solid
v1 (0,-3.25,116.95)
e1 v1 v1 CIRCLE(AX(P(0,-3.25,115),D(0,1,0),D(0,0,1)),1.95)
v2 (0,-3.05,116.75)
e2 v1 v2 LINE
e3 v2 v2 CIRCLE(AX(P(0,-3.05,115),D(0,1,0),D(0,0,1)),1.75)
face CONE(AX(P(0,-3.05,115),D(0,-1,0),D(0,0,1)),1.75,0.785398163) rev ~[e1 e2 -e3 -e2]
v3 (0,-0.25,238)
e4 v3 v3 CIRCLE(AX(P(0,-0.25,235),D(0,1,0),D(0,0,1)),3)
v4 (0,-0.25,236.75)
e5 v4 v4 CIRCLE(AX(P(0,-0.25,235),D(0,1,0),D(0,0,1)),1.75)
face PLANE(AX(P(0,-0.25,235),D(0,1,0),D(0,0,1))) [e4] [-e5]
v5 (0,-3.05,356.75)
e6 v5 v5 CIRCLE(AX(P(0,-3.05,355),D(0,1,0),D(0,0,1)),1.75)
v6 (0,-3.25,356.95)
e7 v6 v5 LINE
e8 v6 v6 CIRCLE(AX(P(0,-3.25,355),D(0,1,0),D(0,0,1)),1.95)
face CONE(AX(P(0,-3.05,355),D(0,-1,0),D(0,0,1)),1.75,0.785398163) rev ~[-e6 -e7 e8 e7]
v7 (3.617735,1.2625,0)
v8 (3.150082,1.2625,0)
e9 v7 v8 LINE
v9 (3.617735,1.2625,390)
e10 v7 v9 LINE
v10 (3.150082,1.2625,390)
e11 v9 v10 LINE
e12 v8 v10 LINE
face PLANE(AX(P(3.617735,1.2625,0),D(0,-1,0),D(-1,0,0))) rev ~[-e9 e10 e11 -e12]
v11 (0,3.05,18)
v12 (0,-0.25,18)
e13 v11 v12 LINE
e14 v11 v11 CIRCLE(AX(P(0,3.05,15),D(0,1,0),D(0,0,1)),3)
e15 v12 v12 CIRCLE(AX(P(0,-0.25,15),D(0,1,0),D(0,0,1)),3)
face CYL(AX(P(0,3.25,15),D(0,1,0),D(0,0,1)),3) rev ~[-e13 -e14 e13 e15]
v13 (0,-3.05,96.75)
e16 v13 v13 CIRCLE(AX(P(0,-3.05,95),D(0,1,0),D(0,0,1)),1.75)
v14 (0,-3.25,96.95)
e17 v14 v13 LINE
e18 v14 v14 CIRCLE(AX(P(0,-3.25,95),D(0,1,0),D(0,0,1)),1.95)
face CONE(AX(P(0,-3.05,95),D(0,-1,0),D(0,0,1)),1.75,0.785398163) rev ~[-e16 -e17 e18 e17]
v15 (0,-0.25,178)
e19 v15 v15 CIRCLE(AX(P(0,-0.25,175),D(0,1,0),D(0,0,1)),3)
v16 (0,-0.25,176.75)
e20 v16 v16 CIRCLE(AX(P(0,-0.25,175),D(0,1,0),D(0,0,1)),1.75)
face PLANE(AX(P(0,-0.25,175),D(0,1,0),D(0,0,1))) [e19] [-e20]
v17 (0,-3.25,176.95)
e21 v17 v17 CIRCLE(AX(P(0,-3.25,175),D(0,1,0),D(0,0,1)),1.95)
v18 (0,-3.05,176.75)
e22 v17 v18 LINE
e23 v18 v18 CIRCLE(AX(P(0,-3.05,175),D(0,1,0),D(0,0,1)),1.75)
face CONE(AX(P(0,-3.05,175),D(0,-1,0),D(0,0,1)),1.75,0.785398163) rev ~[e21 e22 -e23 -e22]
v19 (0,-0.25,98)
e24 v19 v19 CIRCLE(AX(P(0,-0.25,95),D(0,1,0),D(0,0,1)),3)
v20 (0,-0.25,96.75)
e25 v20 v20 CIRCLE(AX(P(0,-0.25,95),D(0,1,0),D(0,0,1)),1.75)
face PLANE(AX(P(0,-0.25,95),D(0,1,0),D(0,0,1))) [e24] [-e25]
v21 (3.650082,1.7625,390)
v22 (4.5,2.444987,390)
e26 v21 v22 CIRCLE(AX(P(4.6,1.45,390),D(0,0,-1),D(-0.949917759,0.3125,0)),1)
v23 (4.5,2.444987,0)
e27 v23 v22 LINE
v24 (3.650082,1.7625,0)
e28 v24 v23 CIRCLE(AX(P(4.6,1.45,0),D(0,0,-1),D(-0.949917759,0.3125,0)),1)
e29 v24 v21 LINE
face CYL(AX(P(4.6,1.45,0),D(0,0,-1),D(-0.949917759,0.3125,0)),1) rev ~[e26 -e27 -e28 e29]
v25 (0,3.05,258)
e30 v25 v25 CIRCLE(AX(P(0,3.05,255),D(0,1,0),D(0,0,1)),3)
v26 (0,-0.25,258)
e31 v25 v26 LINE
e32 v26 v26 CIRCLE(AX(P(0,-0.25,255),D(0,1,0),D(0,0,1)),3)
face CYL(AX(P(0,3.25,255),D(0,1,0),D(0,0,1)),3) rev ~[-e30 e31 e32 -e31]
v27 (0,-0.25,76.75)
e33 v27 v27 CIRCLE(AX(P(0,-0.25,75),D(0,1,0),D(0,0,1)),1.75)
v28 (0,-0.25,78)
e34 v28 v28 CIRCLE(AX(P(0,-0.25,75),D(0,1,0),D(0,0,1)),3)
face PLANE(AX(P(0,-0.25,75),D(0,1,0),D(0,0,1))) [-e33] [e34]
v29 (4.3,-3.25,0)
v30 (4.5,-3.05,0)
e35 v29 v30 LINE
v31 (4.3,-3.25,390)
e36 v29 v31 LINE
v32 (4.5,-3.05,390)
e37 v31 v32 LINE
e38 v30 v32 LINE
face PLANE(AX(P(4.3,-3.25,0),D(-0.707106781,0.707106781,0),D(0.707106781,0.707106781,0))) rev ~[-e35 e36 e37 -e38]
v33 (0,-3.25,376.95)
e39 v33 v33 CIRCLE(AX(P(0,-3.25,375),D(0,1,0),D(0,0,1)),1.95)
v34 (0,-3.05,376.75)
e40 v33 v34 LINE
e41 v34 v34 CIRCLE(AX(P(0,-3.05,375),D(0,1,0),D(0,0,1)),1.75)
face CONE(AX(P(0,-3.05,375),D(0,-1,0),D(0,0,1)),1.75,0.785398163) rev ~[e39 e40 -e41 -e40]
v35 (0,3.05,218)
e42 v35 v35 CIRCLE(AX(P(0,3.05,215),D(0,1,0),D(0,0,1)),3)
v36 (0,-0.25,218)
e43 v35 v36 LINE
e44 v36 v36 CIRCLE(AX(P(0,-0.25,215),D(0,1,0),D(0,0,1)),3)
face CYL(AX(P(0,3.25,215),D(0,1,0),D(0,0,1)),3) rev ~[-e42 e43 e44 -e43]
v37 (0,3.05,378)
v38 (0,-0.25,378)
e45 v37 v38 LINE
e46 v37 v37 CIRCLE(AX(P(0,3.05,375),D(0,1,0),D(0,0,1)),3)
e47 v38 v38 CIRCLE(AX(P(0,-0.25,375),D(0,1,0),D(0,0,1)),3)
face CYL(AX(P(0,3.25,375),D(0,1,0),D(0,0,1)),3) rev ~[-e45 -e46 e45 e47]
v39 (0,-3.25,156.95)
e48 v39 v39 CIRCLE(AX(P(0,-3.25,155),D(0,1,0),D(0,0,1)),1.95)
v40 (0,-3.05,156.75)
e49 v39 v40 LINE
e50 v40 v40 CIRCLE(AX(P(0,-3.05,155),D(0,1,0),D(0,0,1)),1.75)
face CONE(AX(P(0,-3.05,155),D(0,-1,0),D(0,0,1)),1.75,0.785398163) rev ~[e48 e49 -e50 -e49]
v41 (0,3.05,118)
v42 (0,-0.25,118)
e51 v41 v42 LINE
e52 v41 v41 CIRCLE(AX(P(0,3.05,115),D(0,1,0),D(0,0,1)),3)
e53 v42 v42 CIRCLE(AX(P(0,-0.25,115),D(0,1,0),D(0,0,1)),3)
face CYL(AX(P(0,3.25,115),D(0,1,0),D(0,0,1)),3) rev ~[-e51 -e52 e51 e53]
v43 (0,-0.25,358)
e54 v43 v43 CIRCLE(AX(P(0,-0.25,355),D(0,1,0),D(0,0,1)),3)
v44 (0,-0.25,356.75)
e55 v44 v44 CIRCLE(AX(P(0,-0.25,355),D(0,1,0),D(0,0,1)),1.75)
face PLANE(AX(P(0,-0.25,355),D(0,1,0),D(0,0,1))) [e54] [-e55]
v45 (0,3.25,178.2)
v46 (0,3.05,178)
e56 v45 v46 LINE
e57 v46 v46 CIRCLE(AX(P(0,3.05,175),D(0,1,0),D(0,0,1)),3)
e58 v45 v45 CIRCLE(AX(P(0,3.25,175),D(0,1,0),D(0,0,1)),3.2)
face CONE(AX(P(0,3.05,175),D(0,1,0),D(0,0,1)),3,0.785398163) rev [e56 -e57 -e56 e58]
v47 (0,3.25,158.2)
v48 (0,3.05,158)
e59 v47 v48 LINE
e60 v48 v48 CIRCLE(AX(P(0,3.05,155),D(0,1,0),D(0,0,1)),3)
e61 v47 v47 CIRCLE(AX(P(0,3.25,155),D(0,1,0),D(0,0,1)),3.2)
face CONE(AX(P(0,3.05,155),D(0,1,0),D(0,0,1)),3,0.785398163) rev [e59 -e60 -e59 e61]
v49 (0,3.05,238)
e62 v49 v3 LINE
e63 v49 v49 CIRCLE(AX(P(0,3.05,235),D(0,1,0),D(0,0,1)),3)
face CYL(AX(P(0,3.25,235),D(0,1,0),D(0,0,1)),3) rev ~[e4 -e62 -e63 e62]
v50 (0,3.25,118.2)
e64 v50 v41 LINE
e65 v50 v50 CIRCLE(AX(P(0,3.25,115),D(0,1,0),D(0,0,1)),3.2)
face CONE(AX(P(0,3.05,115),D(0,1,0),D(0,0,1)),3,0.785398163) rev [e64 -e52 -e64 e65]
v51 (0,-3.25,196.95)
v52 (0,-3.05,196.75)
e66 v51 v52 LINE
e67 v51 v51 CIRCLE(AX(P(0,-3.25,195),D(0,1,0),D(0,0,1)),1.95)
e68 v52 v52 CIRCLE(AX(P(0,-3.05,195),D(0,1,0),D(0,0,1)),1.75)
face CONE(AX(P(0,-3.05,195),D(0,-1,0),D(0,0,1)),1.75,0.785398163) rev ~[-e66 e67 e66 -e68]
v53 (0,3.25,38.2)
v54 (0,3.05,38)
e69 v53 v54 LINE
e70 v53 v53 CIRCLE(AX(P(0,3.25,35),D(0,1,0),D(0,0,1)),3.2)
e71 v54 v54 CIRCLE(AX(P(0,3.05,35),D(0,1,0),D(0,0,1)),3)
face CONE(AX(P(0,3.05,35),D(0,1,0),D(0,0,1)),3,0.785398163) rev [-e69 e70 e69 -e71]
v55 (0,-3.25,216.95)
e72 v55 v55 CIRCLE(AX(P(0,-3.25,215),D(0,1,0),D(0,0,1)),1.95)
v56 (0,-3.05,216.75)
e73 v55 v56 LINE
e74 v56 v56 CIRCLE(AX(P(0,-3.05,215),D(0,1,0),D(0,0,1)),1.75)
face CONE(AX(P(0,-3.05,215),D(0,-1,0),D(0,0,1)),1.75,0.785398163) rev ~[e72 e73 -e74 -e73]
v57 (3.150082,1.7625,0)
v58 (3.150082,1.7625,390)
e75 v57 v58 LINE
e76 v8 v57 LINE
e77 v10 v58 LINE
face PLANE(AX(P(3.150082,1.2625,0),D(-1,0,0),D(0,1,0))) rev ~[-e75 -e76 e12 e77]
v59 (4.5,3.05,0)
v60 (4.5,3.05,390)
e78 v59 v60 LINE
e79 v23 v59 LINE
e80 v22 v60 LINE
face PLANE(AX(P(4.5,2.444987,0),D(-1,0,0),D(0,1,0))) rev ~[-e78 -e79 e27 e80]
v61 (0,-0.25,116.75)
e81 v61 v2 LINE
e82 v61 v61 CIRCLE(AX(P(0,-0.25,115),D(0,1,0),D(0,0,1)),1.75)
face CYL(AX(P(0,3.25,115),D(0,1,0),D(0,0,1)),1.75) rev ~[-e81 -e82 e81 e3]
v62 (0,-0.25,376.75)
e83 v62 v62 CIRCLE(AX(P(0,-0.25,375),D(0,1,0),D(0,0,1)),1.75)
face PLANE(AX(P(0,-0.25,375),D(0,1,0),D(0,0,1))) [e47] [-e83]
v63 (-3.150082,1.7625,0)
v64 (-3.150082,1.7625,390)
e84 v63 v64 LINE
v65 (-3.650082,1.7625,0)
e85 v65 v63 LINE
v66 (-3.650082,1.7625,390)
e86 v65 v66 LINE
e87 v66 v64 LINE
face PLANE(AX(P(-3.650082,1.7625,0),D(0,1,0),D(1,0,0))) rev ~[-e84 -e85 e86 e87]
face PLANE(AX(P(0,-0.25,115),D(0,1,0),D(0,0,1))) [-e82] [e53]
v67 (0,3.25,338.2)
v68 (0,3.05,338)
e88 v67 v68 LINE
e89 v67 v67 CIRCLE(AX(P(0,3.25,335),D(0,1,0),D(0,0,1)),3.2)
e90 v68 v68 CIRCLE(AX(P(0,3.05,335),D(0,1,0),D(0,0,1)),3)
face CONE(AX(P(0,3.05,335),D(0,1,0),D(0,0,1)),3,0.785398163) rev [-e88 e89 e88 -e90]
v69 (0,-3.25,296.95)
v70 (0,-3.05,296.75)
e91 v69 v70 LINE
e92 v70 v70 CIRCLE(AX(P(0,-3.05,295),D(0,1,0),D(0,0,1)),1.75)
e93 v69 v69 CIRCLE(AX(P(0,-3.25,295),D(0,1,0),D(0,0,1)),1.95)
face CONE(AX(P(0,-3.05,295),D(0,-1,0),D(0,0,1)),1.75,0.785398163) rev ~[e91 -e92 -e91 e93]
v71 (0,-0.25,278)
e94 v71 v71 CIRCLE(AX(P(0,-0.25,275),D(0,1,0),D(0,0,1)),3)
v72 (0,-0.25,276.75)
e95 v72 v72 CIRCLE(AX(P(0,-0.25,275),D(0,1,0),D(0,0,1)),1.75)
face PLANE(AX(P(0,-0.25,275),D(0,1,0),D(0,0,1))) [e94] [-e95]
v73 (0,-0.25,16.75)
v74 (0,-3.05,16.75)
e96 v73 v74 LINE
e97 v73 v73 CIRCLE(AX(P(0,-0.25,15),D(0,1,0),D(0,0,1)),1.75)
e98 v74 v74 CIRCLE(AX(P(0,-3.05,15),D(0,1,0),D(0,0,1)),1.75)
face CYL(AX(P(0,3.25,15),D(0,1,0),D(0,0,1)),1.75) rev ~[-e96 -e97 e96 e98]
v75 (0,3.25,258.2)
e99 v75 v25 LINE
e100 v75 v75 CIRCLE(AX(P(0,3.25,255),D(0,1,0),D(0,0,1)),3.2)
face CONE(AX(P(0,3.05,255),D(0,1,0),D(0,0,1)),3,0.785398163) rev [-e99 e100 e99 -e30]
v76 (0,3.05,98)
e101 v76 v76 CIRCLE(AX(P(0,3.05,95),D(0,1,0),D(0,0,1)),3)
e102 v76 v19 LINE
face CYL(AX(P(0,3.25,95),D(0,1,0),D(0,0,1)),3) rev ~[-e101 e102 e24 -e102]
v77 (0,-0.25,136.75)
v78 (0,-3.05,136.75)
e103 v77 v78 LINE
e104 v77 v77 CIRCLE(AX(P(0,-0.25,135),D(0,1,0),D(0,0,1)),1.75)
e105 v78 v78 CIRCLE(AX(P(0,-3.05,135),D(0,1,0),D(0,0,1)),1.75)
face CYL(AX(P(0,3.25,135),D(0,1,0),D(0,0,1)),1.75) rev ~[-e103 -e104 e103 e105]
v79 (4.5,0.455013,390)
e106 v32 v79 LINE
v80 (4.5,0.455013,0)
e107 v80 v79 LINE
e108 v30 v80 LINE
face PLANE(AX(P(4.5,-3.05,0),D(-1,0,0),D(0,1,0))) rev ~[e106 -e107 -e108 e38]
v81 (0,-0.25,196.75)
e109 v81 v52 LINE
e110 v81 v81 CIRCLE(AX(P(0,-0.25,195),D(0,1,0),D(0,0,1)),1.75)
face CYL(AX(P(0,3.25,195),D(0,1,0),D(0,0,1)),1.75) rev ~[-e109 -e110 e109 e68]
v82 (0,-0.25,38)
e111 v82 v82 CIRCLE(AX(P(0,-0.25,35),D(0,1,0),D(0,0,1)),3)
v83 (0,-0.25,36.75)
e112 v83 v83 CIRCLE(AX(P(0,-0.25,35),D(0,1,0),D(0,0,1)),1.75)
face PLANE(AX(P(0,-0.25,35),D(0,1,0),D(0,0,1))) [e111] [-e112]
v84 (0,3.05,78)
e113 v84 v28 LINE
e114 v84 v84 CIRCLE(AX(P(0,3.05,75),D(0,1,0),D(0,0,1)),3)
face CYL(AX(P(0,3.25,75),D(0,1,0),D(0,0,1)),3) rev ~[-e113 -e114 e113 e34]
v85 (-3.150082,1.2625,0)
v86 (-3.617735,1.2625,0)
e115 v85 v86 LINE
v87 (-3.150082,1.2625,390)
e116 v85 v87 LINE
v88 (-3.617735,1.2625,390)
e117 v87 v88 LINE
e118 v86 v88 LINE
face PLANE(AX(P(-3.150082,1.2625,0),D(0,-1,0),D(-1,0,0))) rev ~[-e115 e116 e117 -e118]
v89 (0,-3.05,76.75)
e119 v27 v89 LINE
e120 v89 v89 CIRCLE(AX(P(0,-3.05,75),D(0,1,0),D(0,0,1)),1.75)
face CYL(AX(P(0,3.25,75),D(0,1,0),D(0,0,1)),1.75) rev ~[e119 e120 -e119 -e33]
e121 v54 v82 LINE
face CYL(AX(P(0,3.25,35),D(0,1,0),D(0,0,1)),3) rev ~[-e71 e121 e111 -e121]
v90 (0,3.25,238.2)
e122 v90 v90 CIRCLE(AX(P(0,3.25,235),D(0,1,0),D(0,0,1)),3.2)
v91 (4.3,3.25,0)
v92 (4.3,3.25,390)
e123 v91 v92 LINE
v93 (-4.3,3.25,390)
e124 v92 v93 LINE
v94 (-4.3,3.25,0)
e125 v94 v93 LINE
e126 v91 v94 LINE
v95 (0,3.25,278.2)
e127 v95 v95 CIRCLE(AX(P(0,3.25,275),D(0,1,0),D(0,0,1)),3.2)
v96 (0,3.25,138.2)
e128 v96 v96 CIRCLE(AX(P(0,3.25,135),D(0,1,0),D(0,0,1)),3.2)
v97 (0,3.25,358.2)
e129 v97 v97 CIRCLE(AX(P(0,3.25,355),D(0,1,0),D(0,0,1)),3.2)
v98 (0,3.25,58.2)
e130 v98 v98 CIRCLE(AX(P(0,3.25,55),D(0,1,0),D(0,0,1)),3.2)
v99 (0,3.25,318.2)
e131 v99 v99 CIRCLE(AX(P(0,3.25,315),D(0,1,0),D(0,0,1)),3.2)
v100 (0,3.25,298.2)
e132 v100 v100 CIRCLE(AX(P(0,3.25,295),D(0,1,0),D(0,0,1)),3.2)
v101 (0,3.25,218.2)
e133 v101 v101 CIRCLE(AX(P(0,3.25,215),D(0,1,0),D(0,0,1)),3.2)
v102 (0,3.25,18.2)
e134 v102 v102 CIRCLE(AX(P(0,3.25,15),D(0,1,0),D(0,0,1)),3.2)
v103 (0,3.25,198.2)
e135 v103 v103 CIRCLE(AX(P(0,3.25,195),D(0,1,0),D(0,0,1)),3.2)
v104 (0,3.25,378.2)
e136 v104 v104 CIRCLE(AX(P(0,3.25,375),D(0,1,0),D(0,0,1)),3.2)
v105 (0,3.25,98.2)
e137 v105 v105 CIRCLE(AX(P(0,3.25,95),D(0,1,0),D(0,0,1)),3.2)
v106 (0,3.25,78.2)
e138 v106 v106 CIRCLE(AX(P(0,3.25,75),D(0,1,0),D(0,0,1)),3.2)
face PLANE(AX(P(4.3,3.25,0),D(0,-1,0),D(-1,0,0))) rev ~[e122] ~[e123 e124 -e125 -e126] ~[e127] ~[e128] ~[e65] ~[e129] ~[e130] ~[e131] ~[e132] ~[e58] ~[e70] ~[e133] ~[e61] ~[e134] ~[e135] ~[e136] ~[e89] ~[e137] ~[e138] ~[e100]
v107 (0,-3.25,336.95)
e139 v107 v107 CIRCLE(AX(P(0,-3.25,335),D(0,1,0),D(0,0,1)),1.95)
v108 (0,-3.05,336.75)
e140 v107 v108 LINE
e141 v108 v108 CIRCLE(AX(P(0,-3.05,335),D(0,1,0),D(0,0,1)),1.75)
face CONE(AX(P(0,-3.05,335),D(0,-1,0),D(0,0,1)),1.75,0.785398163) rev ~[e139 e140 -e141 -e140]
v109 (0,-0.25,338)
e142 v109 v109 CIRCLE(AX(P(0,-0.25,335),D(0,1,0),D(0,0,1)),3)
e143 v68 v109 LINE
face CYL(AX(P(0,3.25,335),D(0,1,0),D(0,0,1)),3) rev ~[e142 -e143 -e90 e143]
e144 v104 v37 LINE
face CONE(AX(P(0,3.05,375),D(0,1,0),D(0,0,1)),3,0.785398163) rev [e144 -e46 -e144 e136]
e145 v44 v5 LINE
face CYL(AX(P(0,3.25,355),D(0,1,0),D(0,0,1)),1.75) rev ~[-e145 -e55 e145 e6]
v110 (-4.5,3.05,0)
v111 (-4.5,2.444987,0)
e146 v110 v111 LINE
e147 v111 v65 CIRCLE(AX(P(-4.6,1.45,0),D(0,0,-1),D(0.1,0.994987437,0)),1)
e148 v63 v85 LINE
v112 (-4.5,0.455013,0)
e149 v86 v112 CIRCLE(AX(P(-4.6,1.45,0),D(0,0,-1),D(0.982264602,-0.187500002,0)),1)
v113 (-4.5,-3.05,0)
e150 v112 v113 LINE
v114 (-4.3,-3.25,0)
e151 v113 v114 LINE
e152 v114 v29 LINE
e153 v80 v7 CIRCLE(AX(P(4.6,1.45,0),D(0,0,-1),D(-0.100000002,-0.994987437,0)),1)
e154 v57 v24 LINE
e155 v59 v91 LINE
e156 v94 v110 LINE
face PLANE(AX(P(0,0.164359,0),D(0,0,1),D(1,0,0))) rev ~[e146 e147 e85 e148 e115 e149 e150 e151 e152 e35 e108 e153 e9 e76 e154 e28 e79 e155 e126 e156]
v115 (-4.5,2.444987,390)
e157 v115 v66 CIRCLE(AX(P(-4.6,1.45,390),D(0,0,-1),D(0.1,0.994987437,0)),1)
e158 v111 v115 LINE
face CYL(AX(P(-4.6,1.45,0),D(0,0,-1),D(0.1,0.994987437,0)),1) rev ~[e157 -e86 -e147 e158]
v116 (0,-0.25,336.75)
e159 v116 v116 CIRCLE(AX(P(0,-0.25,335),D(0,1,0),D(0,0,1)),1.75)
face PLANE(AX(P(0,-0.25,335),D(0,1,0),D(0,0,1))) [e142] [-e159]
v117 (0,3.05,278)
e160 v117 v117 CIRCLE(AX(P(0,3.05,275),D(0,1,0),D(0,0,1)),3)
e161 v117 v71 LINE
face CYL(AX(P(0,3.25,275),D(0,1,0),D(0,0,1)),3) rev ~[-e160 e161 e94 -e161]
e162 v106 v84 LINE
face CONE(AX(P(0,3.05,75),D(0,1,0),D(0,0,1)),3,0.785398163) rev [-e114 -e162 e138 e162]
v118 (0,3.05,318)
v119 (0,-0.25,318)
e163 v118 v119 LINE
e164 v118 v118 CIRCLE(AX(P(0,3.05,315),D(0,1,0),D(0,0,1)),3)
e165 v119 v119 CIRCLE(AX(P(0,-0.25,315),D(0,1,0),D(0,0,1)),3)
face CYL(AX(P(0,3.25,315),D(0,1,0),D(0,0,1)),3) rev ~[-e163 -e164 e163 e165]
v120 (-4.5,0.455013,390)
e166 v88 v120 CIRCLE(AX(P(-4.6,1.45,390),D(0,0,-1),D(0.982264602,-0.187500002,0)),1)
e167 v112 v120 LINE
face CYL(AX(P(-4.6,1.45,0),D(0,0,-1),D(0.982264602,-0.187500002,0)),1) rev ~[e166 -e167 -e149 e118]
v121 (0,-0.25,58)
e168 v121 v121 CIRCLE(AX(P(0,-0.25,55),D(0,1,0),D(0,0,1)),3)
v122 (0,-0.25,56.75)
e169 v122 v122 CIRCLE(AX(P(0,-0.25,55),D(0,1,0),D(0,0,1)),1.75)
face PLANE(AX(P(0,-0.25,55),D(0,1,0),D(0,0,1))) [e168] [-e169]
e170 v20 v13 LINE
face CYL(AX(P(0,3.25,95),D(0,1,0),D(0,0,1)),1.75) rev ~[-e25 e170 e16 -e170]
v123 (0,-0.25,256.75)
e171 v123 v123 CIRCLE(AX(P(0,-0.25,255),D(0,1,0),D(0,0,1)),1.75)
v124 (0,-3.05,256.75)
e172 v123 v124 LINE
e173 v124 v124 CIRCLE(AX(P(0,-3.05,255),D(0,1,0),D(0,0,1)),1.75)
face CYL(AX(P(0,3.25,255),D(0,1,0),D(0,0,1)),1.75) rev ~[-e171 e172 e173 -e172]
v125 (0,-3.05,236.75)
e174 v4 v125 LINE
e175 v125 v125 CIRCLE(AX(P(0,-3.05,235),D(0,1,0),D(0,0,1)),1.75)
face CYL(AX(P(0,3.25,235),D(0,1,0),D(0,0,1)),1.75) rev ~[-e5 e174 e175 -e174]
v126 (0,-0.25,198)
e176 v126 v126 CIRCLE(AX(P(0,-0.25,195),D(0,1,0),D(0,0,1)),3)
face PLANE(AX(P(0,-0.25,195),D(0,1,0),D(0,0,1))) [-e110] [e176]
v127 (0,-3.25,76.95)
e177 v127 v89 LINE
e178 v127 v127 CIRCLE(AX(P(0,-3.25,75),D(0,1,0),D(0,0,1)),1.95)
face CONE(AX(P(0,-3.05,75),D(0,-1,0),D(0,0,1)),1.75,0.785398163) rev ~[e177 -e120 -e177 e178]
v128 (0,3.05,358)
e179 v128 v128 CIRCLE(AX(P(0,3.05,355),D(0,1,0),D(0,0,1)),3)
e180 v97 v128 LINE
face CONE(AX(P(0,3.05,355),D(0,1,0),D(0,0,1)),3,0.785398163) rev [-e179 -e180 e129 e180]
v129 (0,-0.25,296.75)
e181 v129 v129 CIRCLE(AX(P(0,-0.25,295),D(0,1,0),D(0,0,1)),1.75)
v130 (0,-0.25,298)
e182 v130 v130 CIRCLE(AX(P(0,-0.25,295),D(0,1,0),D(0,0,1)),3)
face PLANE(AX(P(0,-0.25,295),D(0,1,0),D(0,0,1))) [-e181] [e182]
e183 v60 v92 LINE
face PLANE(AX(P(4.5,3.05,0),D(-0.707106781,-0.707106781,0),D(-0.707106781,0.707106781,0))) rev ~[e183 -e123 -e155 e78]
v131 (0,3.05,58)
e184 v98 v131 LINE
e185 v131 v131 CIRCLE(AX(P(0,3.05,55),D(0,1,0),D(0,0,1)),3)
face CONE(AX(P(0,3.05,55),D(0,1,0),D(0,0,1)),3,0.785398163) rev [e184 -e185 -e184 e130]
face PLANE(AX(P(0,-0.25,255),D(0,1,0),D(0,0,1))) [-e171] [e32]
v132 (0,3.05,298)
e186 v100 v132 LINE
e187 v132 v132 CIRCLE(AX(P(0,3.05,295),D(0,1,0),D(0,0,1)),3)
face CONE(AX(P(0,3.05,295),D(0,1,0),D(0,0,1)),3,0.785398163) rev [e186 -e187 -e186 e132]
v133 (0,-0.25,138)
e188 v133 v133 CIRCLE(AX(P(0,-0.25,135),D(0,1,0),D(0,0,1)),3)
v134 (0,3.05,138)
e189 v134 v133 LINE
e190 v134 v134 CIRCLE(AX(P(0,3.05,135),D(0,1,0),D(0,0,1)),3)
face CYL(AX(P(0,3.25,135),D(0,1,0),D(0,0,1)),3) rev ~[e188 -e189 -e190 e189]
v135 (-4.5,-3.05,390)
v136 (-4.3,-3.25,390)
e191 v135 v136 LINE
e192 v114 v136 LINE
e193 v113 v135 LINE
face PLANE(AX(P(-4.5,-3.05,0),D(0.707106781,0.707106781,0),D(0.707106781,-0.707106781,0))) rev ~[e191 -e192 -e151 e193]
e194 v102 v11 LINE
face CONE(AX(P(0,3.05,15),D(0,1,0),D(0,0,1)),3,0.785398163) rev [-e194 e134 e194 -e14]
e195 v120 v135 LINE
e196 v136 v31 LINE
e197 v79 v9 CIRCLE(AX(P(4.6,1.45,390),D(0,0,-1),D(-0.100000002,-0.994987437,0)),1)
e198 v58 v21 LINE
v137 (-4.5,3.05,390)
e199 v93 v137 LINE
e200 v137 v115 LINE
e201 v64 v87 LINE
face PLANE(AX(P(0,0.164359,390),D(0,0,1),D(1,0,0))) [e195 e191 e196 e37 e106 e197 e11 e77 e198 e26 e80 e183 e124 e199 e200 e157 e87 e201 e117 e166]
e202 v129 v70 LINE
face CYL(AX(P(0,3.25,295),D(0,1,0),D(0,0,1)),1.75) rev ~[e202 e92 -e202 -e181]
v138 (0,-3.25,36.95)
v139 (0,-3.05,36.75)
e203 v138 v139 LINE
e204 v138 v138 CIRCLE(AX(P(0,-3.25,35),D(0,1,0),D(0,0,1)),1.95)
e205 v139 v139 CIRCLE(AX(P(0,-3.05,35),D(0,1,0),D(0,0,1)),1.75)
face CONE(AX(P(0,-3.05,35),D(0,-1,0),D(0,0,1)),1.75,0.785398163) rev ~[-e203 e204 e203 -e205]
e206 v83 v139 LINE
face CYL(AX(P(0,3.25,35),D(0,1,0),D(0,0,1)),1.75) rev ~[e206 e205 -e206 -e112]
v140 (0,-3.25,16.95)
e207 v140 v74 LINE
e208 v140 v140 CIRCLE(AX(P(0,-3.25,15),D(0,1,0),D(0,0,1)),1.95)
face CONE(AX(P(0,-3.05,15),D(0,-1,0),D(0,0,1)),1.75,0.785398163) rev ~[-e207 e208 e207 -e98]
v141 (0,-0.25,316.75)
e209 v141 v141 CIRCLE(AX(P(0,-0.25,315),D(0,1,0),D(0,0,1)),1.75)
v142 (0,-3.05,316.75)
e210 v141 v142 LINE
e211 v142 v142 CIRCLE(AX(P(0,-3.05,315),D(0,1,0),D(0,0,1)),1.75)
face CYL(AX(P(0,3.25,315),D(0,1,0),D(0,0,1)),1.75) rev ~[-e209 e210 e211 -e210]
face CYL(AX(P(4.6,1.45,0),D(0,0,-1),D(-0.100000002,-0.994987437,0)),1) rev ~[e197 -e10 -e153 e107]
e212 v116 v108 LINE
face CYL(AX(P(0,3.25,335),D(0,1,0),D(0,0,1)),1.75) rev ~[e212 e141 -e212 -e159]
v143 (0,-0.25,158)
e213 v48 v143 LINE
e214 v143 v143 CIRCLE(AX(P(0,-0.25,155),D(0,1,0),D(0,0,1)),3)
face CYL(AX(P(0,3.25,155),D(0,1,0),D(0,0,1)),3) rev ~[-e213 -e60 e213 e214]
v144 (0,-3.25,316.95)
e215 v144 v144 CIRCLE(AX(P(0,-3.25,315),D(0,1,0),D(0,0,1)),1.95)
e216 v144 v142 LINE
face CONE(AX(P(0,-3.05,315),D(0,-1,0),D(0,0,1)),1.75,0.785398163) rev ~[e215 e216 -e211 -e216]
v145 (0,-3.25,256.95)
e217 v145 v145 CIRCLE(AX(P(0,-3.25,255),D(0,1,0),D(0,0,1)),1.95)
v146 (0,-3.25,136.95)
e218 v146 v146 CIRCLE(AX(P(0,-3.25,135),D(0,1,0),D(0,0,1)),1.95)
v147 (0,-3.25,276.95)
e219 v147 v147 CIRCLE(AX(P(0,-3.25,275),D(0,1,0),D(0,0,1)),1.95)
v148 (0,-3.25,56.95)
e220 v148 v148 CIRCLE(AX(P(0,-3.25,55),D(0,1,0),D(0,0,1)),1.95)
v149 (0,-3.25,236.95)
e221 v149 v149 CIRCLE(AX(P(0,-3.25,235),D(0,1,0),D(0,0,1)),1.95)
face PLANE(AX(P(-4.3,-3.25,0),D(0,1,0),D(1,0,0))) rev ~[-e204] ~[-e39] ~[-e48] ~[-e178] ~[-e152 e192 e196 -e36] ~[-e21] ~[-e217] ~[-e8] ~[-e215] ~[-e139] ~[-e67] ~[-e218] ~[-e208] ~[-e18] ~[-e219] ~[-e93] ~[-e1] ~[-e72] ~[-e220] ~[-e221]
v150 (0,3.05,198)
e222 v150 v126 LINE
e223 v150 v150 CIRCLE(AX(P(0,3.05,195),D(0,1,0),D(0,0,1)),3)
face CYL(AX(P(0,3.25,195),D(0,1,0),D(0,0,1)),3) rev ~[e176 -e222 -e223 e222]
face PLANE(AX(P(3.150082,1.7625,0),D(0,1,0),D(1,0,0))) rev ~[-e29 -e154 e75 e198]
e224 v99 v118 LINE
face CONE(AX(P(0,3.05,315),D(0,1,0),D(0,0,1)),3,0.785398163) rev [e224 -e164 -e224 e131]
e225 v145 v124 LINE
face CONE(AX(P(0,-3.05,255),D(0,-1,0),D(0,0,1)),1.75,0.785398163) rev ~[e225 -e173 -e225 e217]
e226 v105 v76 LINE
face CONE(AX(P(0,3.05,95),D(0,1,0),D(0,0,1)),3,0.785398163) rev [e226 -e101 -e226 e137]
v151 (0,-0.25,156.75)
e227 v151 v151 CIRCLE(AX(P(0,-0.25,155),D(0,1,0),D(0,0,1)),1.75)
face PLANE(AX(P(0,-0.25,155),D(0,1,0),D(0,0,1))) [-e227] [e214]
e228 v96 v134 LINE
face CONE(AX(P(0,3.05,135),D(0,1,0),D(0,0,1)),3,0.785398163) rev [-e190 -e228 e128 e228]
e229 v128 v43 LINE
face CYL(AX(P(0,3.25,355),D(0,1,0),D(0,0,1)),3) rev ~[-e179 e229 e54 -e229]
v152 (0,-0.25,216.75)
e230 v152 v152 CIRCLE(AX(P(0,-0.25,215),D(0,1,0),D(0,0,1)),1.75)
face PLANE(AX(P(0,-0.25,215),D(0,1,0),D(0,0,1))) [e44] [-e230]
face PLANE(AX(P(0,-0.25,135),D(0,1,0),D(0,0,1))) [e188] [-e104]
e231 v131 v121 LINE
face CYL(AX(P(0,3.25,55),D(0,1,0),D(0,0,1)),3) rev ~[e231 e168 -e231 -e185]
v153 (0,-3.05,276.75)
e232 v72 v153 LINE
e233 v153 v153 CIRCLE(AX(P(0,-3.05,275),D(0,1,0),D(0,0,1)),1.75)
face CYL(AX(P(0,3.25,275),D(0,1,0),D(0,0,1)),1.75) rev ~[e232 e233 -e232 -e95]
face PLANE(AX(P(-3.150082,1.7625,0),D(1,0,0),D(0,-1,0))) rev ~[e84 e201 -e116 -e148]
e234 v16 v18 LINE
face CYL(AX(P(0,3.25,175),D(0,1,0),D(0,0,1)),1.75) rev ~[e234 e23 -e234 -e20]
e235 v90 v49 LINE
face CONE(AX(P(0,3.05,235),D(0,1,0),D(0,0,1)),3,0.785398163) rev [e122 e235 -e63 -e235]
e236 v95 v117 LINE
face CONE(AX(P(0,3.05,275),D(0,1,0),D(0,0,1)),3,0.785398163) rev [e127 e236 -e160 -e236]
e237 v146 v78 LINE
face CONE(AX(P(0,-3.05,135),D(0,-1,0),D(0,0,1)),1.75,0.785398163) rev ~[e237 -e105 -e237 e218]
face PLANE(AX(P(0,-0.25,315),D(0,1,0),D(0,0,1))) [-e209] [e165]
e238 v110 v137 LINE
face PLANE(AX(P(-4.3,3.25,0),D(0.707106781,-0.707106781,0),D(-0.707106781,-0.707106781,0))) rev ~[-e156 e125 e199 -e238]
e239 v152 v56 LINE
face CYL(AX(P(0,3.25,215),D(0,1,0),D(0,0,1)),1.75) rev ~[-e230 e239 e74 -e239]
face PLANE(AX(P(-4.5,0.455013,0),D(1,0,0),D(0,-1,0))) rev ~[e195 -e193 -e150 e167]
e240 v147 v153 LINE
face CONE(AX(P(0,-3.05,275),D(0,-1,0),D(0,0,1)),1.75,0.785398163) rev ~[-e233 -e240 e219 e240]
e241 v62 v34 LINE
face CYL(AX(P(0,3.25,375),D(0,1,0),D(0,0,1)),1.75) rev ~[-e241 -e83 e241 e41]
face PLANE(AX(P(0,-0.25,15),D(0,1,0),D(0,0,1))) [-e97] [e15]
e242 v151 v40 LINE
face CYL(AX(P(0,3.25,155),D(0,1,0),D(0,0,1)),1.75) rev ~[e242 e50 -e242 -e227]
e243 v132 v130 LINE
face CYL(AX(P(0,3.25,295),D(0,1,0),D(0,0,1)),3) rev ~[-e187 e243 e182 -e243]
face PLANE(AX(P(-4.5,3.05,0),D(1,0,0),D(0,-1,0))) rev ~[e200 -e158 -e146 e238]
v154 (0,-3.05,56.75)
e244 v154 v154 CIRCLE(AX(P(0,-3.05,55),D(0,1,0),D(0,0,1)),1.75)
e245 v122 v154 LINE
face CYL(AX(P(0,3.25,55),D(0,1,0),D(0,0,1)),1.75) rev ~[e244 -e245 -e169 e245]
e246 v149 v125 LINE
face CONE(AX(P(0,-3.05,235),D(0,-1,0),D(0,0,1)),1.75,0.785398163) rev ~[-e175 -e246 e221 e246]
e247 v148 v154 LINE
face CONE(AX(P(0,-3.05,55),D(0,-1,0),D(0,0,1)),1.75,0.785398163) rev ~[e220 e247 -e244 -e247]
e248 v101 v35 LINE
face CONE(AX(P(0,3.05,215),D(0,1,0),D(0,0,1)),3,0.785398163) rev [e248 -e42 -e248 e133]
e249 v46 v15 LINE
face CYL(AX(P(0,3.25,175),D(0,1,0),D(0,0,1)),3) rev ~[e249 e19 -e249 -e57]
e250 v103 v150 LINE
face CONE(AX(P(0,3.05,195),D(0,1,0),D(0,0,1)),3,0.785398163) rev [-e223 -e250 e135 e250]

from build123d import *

# Parameters (mm, degrees)
EXTRUDE1_DEPTH             = 390
EXTRUDE2_REACH             = 392.08
SKETCH2_R                  = 1.75
SKETCH_R                   = 3
SKETCH_R_2                 = 1.75
EXTRUDE4_DEPTH             = 3.5
CHAMFER1_SIZE              = 0.2
LPATTERN1_COUNT            = 19
LPATTERN1_PITCH            = 20
CHAMFER1_OF_LPATTERN1_SIZE = 0.2


with BuildPart() as part:
    # Sketch1 → Extrude1 (new body)
    with BuildSketch(Plane.XY):
        with BuildLine():
            Line((-4.3, -3.25), (4.3, -3.25))
            Line((4.3, -3.25), (4.5, -3.05))
            Line((4.5, -3.05), (4.5, 0.455012563))
            ThreePointArc((4.5, 0.455012563), (3.924845827, 0.712323349), (3.617735397, 1.2625))
            Line((3.617735397, 1.2625), (3.15008224, 1.2625))
            Line((3.15008224, 1.2625), (3.15008224, 1.7625))
            Line((3.15008224, 1.7625), (3.65008224, 1.7625))
            ThreePointArc((3.65008224, 1.7625), (3.973877727, 2.229724887), (4.5, 2.444987437))
            Line((4.5, 2.444987437), (4.5, 3.05))
            Line((4.5, 3.05), (4.3, 3.25))
            Line((4.3, 3.25), (-4.3, 3.25))
            Line((-4.3, 3.25), (-4.5, 3.05))
            Line((-4.5, 3.05), (-4.5, 2.444987437))
            ThreePointArc((-4.5, 2.444987437), (-3.973877727, 2.229724887), (-3.65008224, 1.7625))
            Line((-3.65008224, 1.7625), (-3.15008224, 1.7625))
            Line((-3.15008224, 1.7625), (-3.15008224, 1.2625))
            Line((-3.15008224, 1.2625), (-3.617735397, 1.2625))
            ThreePointArc((-3.617735397, 1.2625), (-3.924845827, 0.712323349), (-4.5, 0.455012563))
            Line((-4.5, 0.455012563), (-4.5, -3.05))
            Line((-4.5, -3.05), (-4.3, -3.25))
        make_face()
    extrude(amount=EXTRUDE1_DEPTH)

    # Sketch2 → Extrude2 (cut, up to next)
    with BuildSketch(Plane(origin=(0, 3.25, 0), x_dir=(1, 0, 0), z_dir=(0, 1, 0)), mode=Mode.PRIVATE) as extrude2_sk1:
        with Locations((0, -15)):
            Circle(SKETCH2_R)
    extrude2_tool1 = extrude(extrude2_sk1.sketch, amount=-EXTRUDE2_REACH, mode=Mode.PRIVATE) & part.part
    extrude2 = extrude2_tool1.solids().sort_by_distance((0, 3.25, 15))[0]
    add(extrude2, mode=Mode.SUBTRACT)

    # Sketch → Extrude4 (cut)
    with BuildSketch(Plane(origin=(0, 3.25, 0), x_dir=(1, 0, 0), z_dir=(0, 1, 0))):
        with Locations((0, -15)):
            Circle(SKETCH_R)
        with Locations((0, -15)):
            Circle(SKETCH_R_2, mode=Mode.SUBTRACT)
    extrude4 = extrude(amount=-EXTRUDE4_DEPTH, mode=Mode.SUBTRACT)

    # Chamfer1
    chamfer1_edges = [part.edges().sort_by_distance(p)[0] for p in [
        (-1.75, -3.25, 15),
        (-3, 3.25, 15),
    ]]
    chamfer(chamfer1_edges, length=CHAMFER1_SIZE)

    # LPattern1: Extrude2, Extrude4 ×19
    with Locations(*[(0, 0, i * LPATTERN1_PITCH) for i in range(1, LPATTERN1_COUNT)]):
        add(extrude2, mode=Mode.SUBTRACT)
        add(extrude4, mode=Mode.SUBTRACT)

    # Chamfer1 of LPattern1
    chamfer1_of_lpattern1_edges = [part.edges().sort_by_distance(p)[0] for p in [
        (-1.75, -3.25, 35),
        (-3, 3.25, 35),
        (-1.75, -3.25, 55),
        (-3, 3.25, 55),
        (-1.75, -3.25, 75),
        (-3, 3.25, 75),
        (-1.75, -3.25, 95),
        (-3, 3.25, 95),
        (-1.75, -3.25, 115),
        (-3, 3.25, 115),
        (-1.75, -3.25, 135),
        (-3, 3.25, 135),
        (-1.75, -3.25, 155),
        (-3, 3.25, 155),
        (-1.75, -3.25, 175),
        (-3, 3.25, 175),
        (-1.75, -3.25, 195),
        (-3, 3.25, 195),
        (-1.75, -3.25, 215),
        (-3, 3.25, 215),
        (-1.75, -3.25, 235),
        (-3, 3.25, 235),
        (-1.75, -3.25, 255),
        (-3, 3.25, 255),
        (-1.75, -3.25, 275),
        (-3, 3.25, 275),
        (-1.75, -3.25, 295),
        (-3, 3.25, 295),
        (-1.75, -3.25, 315),
        (-3, 3.25, 315),
        (-1.75, -3.25, 335),
        (-3, 3.25, 335),
        (-1.75, -3.25, 355),
        (-3, 3.25, 355),
        (-1.75, -3.25, 375),
        (-3, 3.25, 375),
    ]]
    chamfer(chamfer1_of_lpattern1_edges, length=CHAMFER1_OF_LPATTERN1_SIZE)


solid = part.part
